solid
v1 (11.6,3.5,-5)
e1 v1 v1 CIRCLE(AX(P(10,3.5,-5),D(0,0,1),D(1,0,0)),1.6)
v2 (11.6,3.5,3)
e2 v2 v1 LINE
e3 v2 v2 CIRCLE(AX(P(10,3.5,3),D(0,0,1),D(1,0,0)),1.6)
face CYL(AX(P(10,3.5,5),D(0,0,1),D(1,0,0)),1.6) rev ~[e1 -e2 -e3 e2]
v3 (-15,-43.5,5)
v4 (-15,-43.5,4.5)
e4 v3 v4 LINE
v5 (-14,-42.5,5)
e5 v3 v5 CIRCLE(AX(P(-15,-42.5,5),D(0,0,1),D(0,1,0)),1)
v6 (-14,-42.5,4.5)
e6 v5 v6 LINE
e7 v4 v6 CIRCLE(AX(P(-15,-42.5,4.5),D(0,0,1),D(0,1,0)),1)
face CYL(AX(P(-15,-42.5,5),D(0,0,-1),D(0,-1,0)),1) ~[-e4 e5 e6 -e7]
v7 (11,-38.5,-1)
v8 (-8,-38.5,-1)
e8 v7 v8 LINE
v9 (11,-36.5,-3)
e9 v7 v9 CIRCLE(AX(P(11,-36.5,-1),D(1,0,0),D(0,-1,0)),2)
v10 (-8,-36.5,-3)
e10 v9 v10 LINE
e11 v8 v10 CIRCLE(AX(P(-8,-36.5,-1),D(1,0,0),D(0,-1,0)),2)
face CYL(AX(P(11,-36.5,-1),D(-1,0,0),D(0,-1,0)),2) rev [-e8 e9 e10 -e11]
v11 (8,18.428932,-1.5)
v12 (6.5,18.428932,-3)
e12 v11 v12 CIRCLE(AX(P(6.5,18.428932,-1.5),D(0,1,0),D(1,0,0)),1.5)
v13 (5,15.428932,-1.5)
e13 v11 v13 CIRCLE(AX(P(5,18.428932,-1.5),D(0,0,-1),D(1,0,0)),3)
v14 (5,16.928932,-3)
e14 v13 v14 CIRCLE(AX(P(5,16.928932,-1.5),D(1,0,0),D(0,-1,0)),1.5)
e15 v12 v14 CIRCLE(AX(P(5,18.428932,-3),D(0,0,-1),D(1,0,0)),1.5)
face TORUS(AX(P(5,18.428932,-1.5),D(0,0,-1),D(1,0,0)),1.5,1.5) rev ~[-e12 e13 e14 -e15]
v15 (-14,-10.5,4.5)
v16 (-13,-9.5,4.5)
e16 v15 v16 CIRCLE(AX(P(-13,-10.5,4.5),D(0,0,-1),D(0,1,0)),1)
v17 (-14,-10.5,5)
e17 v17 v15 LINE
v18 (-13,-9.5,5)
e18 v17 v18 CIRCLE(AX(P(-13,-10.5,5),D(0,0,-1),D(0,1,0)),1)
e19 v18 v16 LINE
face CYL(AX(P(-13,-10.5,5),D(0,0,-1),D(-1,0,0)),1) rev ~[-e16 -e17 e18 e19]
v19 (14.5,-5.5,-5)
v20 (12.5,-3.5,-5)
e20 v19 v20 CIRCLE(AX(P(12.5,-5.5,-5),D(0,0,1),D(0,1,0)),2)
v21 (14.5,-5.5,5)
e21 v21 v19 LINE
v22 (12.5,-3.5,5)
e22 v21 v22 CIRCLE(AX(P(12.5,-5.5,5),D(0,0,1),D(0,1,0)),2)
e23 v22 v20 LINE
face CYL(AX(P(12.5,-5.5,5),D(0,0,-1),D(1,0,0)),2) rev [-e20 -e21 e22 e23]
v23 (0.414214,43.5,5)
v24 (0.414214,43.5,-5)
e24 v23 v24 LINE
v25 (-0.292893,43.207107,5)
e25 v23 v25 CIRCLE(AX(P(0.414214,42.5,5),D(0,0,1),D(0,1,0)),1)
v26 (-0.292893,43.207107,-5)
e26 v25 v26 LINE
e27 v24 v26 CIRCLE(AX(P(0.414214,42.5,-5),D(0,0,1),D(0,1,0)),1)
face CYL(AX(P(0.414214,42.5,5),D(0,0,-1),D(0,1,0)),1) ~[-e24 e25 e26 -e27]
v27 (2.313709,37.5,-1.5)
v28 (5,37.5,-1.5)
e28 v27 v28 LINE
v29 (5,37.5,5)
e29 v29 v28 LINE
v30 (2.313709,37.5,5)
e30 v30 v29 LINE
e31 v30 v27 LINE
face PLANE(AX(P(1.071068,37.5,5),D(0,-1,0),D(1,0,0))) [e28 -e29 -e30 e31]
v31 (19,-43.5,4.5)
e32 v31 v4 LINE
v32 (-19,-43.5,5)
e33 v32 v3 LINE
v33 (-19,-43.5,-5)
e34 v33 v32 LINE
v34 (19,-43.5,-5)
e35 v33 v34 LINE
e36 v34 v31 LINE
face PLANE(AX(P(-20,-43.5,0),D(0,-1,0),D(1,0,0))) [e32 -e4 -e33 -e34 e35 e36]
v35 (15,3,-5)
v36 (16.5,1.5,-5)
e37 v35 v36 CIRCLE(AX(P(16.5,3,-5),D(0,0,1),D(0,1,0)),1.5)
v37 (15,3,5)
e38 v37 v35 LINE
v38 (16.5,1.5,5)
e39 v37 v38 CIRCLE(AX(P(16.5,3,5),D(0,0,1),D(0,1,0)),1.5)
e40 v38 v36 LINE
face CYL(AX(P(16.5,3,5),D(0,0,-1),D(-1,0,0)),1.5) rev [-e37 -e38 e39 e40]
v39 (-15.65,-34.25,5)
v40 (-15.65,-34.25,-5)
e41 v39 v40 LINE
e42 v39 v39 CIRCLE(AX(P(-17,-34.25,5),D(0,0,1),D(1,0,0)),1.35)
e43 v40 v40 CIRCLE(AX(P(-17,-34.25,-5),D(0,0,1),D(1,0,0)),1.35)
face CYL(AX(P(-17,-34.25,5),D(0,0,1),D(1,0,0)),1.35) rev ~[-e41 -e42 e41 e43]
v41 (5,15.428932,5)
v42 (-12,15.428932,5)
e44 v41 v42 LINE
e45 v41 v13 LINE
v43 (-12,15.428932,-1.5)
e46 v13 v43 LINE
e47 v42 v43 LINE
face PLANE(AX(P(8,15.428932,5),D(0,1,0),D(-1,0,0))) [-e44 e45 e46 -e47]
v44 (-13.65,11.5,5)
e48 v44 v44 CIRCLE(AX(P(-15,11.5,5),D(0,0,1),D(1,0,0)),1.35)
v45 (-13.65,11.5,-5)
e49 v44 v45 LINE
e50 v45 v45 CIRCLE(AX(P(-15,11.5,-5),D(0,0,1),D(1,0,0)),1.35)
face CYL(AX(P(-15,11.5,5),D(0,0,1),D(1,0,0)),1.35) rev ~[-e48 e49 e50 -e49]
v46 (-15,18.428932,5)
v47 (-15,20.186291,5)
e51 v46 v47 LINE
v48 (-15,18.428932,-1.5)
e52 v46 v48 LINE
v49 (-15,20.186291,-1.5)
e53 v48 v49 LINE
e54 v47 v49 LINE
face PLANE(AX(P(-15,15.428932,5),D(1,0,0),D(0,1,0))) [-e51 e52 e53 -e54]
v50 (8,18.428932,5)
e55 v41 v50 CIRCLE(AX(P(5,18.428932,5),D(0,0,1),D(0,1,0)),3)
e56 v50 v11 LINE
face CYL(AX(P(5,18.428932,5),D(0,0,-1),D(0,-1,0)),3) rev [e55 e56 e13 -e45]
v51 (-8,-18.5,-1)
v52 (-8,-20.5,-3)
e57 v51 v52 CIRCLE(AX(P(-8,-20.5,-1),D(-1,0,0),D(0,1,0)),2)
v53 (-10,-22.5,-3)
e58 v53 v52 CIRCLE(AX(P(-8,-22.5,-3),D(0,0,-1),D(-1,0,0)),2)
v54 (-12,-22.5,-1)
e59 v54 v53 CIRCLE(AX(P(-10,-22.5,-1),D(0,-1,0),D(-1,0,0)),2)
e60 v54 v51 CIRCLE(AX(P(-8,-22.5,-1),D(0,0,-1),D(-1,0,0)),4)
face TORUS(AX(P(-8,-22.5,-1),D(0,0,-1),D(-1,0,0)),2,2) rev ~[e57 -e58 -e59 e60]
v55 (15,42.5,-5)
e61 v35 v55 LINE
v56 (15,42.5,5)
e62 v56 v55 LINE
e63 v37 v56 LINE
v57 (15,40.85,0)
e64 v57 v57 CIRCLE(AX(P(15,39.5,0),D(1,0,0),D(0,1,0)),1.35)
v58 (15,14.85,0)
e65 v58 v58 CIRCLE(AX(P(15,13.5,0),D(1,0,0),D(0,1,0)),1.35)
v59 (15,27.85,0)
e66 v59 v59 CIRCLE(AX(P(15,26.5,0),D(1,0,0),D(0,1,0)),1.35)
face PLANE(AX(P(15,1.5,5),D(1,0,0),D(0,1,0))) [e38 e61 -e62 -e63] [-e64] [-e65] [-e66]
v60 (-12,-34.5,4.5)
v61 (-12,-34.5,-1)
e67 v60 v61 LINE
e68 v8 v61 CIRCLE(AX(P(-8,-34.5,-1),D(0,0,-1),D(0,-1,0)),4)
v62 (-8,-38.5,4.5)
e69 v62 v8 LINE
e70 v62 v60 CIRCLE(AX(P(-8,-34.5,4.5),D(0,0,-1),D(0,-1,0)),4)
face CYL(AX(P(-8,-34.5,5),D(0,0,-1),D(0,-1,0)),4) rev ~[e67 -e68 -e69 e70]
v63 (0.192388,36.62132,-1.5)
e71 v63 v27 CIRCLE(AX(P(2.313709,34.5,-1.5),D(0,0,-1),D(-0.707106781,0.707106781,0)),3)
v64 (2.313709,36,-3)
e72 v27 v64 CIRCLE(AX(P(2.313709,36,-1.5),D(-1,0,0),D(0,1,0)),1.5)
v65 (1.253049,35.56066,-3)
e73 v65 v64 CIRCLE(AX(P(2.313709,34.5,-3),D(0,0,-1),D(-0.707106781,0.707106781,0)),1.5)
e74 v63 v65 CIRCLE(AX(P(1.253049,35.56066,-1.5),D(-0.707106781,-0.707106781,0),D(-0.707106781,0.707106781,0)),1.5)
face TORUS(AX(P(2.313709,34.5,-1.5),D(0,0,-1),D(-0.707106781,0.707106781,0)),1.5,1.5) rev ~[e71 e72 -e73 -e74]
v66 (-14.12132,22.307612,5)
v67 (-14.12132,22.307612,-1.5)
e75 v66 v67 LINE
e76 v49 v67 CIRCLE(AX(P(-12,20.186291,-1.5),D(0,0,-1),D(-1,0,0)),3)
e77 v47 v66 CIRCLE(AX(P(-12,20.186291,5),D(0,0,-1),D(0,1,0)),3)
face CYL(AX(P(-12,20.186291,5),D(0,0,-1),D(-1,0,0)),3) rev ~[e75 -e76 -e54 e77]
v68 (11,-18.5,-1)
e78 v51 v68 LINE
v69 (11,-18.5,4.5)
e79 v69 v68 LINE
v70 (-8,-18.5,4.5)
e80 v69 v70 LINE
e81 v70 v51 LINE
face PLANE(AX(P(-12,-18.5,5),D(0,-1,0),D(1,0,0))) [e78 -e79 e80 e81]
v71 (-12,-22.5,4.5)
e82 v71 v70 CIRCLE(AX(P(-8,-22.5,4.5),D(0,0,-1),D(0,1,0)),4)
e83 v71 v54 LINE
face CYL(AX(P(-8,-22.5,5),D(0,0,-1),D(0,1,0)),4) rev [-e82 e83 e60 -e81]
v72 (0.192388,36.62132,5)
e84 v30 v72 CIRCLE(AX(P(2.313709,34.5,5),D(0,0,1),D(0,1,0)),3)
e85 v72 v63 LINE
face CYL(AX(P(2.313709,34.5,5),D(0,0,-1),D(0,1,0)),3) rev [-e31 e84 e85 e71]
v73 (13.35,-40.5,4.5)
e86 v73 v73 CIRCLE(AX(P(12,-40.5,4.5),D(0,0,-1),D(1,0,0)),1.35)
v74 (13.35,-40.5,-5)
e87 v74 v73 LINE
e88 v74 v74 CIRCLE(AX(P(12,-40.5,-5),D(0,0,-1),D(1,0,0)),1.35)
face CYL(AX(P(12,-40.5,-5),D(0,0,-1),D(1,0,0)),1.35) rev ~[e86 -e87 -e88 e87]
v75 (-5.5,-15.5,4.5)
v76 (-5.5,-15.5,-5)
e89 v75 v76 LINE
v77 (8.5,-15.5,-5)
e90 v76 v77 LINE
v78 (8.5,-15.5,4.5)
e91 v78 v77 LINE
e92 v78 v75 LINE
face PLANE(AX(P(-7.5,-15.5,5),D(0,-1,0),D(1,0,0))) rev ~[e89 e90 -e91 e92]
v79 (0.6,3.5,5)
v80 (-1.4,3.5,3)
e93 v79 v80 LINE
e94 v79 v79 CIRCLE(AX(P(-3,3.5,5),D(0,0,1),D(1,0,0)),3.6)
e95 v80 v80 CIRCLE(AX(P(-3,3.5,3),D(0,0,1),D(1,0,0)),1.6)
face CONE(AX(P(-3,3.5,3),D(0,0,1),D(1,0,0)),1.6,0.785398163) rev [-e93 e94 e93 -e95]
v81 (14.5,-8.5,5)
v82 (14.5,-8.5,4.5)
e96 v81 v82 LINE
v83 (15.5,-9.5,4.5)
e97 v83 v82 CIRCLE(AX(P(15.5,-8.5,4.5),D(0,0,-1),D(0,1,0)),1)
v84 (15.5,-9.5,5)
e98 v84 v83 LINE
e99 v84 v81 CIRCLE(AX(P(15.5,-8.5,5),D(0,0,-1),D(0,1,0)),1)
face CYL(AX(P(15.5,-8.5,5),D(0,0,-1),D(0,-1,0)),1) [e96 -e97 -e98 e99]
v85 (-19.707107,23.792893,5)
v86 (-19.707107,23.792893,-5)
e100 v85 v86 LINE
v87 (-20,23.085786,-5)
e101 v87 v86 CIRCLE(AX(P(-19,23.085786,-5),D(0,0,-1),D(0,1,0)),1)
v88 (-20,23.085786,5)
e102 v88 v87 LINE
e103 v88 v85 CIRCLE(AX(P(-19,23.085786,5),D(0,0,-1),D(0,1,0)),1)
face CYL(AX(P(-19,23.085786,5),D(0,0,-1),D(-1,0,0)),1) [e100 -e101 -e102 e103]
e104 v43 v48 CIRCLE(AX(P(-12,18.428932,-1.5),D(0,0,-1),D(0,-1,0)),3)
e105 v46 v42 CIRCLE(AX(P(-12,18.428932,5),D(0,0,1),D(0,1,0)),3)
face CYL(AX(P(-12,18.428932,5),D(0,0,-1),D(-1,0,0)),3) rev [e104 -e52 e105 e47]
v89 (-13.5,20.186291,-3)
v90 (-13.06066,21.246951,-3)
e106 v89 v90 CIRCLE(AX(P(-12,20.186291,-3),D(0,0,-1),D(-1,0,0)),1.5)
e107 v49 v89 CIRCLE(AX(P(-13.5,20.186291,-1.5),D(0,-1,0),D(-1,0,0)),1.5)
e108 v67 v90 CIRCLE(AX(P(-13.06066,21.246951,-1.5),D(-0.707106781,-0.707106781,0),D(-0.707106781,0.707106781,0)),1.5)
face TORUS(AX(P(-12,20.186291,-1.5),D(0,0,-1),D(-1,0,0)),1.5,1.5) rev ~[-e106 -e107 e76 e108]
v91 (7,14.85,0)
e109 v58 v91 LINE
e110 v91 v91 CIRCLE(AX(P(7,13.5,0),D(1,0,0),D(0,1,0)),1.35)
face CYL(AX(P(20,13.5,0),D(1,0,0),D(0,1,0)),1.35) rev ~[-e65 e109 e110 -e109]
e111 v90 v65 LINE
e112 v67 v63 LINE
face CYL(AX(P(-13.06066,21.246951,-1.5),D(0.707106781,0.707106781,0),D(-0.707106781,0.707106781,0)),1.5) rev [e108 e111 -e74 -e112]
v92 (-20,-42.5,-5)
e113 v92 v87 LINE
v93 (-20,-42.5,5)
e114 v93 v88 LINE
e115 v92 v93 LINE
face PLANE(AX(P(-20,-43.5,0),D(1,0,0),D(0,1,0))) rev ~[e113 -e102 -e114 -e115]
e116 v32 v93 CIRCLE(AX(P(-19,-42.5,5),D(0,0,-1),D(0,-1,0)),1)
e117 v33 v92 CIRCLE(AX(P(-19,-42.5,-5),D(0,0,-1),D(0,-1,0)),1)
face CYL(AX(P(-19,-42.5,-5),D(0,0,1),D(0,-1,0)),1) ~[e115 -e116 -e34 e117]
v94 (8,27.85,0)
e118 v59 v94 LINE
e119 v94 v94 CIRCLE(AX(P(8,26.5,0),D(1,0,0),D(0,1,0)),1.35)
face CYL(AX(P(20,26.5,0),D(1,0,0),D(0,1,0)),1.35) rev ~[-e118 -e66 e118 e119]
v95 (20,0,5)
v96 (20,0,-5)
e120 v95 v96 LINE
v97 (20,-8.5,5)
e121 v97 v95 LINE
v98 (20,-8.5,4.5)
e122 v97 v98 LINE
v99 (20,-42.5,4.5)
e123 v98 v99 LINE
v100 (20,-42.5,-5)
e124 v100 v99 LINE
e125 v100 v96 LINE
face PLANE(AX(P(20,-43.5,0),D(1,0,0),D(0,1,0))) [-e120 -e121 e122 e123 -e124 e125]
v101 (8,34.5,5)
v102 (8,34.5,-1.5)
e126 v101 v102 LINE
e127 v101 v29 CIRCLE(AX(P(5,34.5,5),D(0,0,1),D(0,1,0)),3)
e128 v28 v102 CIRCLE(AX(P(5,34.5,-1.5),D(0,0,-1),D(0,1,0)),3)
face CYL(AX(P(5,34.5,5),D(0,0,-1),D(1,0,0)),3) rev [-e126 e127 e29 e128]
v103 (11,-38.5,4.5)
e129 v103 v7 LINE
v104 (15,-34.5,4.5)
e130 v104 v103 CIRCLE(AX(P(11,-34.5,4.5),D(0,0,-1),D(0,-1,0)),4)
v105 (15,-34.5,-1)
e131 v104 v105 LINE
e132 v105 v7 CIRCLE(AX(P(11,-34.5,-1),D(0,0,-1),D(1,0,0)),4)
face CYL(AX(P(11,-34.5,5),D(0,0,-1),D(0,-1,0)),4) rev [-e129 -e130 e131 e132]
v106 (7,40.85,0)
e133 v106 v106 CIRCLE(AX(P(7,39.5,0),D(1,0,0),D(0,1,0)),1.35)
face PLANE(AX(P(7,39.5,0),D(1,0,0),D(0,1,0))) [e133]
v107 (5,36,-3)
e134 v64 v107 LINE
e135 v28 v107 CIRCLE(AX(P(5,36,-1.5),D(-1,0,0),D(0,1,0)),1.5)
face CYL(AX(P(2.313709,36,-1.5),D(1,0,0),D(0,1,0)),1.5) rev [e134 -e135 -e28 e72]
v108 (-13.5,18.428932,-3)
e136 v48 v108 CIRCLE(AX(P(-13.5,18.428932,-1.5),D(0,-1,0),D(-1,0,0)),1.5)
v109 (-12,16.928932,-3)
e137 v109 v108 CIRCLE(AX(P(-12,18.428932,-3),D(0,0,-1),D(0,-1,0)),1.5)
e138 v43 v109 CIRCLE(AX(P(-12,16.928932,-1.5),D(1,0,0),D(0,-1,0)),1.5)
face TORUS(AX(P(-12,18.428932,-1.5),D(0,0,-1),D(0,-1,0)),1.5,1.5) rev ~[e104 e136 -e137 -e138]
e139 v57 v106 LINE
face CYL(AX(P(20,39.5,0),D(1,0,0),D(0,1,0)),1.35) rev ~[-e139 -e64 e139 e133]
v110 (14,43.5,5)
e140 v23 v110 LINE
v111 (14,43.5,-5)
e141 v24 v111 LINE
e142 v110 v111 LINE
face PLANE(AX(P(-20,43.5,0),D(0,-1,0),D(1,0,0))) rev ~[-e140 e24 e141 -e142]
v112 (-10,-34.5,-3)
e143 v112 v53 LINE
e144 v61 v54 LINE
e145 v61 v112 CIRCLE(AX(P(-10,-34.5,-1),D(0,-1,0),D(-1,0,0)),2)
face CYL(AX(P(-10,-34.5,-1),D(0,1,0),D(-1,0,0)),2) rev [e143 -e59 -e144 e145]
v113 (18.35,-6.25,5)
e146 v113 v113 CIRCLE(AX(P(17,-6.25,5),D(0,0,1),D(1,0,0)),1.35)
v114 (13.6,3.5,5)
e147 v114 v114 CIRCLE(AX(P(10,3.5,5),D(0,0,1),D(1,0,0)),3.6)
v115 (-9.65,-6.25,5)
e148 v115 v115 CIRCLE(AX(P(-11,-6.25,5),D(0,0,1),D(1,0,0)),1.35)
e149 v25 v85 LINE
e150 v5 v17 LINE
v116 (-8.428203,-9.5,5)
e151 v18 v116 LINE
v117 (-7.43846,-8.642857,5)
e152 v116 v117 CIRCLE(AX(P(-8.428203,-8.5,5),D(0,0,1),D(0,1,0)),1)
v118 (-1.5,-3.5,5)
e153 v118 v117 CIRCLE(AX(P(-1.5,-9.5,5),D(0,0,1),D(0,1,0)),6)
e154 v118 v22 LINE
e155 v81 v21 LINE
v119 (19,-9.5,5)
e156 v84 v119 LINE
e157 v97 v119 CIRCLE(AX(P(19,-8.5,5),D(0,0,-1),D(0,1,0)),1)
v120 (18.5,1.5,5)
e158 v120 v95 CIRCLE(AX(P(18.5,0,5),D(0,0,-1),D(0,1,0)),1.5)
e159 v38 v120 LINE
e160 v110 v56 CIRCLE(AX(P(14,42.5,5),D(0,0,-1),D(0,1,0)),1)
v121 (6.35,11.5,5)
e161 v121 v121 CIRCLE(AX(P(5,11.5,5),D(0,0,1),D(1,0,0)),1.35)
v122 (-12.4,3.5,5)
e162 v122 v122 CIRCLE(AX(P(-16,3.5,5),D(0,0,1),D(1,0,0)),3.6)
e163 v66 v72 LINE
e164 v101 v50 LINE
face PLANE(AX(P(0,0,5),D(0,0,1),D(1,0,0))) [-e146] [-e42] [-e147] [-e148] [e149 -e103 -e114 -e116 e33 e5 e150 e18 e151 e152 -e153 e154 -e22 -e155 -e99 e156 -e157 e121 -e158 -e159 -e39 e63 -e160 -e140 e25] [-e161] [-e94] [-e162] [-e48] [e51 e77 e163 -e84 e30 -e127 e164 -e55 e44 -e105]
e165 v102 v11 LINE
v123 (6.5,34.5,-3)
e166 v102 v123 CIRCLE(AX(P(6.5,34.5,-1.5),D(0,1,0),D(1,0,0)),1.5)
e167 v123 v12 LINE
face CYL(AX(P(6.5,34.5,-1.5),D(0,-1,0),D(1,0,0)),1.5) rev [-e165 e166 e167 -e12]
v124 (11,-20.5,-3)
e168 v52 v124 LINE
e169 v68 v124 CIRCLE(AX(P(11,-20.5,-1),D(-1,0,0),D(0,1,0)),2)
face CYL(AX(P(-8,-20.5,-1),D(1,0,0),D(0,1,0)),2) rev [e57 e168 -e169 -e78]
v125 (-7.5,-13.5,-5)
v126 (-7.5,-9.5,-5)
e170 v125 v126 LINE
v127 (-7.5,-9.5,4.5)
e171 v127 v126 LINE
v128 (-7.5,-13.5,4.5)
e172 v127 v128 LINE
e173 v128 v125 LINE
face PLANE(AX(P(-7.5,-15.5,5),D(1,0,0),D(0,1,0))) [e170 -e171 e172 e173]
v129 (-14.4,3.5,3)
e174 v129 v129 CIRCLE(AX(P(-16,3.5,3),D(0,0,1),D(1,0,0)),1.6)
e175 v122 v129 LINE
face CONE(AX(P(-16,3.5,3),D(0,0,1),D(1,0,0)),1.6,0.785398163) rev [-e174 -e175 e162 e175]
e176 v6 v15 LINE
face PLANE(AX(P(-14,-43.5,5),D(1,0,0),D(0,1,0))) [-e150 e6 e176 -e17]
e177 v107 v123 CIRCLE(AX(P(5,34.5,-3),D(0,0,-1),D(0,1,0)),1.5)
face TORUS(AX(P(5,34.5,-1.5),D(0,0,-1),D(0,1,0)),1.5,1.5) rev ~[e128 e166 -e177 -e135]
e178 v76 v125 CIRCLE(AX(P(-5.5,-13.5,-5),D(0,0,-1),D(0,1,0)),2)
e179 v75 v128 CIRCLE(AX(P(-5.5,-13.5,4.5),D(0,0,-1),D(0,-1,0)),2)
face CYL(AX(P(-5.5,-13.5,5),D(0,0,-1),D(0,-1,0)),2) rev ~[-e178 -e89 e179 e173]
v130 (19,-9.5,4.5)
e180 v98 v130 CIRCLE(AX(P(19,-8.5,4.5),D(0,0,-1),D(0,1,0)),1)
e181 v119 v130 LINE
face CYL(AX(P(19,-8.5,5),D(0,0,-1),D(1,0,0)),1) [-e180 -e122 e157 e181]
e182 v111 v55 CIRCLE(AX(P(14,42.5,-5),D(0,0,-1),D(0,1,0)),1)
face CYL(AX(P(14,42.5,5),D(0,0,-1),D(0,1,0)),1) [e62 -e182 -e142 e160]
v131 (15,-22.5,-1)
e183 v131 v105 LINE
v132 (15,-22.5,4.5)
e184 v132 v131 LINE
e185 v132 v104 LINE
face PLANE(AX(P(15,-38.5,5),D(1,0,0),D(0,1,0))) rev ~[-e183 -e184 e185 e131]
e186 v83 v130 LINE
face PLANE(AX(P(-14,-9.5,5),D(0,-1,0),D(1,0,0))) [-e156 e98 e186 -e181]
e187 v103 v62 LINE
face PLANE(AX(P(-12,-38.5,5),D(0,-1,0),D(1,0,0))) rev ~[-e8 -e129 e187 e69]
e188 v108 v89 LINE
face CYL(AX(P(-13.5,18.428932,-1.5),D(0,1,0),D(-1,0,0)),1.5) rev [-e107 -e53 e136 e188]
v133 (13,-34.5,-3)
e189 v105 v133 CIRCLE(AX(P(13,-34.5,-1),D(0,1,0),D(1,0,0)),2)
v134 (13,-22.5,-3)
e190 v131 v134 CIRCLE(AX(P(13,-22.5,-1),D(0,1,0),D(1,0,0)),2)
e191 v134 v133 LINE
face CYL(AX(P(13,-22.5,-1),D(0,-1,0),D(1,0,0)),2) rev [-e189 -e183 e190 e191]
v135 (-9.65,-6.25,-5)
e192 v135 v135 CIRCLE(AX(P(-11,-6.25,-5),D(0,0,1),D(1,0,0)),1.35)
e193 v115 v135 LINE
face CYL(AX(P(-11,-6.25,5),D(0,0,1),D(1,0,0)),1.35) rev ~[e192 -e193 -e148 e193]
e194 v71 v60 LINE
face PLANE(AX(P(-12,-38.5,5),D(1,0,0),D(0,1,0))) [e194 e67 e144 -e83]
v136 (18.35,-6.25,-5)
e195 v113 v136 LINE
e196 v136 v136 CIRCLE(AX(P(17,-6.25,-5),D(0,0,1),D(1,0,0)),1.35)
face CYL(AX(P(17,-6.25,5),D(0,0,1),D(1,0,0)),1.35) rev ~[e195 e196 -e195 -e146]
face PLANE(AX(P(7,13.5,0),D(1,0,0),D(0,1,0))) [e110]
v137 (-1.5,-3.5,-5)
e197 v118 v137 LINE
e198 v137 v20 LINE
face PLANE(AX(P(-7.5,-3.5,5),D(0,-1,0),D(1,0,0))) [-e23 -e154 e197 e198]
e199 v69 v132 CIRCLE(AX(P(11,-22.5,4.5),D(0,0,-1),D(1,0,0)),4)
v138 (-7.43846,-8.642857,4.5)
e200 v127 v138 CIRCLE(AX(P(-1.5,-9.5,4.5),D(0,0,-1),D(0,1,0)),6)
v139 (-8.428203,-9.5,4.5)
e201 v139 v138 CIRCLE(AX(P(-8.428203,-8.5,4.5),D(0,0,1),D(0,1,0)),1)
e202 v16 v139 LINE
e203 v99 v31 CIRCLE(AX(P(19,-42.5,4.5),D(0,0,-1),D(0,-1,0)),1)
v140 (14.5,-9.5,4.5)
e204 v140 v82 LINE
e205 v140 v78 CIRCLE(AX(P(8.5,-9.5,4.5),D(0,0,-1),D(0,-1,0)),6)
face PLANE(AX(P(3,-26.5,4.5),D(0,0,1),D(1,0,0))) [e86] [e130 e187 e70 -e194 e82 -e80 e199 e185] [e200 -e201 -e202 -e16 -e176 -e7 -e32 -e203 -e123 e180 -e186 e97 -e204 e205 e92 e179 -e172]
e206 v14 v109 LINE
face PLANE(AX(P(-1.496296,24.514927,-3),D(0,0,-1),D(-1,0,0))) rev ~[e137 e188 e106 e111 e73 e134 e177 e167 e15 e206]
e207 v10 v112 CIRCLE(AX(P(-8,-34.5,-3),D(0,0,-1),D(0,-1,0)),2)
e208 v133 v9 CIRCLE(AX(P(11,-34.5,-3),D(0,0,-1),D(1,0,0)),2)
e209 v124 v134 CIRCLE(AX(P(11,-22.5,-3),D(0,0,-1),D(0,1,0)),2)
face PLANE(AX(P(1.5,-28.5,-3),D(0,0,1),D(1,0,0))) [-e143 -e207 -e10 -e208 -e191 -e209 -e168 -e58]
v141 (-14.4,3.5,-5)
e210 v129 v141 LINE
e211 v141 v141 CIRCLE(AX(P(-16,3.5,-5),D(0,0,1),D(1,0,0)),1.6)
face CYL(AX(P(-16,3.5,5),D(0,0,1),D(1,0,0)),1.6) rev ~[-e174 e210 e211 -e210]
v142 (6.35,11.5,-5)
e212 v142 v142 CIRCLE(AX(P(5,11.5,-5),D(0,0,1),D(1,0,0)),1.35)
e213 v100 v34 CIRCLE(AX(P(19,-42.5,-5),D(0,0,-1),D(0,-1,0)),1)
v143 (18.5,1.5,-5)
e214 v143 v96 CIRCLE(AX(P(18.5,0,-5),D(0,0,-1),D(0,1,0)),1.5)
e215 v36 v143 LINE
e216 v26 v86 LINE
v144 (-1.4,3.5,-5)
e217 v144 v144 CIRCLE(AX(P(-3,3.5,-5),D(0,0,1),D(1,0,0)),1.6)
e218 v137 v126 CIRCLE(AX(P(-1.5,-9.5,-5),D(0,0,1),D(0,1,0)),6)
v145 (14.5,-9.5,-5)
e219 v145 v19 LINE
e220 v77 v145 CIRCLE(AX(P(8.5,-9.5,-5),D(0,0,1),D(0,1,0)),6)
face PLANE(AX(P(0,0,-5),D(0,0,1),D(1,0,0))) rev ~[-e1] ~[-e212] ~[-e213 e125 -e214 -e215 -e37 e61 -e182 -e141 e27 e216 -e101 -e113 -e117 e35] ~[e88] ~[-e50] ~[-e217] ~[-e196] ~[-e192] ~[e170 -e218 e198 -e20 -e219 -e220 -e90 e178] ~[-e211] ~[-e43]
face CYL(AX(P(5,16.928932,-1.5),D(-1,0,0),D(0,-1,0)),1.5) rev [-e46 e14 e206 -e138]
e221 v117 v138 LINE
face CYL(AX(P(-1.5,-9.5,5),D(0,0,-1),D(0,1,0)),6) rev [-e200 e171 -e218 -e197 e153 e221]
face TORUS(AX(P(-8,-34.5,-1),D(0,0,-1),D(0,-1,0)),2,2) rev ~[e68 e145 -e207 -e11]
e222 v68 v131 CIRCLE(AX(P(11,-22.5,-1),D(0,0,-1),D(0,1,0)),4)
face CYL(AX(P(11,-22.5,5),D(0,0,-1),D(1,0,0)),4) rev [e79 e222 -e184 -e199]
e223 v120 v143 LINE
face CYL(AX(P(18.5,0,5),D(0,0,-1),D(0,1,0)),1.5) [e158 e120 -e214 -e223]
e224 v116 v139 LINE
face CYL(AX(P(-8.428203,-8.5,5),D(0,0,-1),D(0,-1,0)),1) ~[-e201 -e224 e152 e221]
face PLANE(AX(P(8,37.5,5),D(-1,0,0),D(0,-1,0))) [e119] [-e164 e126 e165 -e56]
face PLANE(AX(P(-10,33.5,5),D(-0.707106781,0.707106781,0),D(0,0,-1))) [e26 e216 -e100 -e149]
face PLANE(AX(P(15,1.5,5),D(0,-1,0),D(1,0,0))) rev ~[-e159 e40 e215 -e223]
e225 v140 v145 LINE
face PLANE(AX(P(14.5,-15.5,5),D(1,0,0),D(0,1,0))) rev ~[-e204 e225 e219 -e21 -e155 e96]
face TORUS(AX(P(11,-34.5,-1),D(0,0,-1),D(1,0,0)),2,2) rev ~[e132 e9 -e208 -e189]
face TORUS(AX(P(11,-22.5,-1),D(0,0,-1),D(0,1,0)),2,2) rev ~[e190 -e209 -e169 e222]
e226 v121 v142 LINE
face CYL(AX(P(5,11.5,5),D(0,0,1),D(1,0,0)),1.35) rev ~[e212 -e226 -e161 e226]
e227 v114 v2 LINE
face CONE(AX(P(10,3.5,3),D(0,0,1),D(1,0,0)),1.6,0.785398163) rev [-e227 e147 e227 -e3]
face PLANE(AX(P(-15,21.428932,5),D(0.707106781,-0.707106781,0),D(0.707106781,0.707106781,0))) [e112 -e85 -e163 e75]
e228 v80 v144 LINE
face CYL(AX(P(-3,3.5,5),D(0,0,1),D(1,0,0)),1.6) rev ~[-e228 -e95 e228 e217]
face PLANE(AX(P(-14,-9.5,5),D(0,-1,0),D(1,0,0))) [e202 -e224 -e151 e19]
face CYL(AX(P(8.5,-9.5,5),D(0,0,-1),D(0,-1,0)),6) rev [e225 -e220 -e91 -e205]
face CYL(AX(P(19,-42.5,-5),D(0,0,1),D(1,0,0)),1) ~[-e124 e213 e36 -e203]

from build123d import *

# Parameters (mm, degrees)
SKETCH_W         = 40
SKETCH_H         = 87
PAD_DEPTH        = 5
SKETCH001_R      = 1.35
POCKET_DEPTH     = 10.001
SKETCH009_R      = 1.6
POCKET007_DEPTH  = 10.001
SKETCH010_W      = 5
SKETCH010_H      = 42
POCKET008_DEPTH  = 10.001
CHAMFER_SIZE     = 2
FILLET_R         = 1.5
CHAMFER001_SIZE2 = 20
CHAMFER001_SIZE  = 20
SKETCH011_W      = 22
SKETCH011_H      = 12
POCKET009_DEPTH  = 12
FILLET001_R      = 6
FILLET009_R      = 2
SKETCH012_W      = 27
SKETCH012_H      = 20
POCKET010_DEPTH  = 8
FILLET002_R      = 4
FILLET003_R      = 2
POCKET011_DEPTH  = 8
FILLET004_R      = 3
FILLET005_R      = 1.5
SKETCH014_R      = 1.35
POCKET012_DEPTH  = 10.001
SKETCH015_R      = 1.35
POCKET013_DEPTH  = 10.001
SKETCH016_W      = 34
SKETCH016_H      = 34
POCKET014_DEPTH  = 0.5
SKETCH017_R      = 1.35
POCKET015_DEPTH  = 13
FILLET010_R      = 1
FILLET011_R      = 1


with BuildPart() as part:
    # Sketch → Pad (new body, symmetric)
    with BuildSketch(Plane.XY):
        Rectangle(SKETCH_W, SKETCH_H)
    extrude(amount=PAD_DEPTH, both=True)

    # Sketch001 (on Face6 of Pad) → Pocket (cut, through all)
    with BuildSketch(Plane.XY.offset(5)):
        with Locations((17, -6.25)):
            Circle(SKETCH001_R)
        with Locations((-11, -6.25)):
            Circle(SKETCH001_R)
        with Locations((-17, -34.25)):
            Circle(SKETCH001_R)
    extrude(amount=-POCKET_DEPTH, mode=Mode.SUBTRACT)

    # Sketch009 (on Face5 of Pocket) → Pocket007 (cut, through all)
    with BuildSketch(Plane.XY.offset(5)):
        with Locations((-16, 3.5)):
            Circle(SKETCH009_R)
        with Locations((-3, 3.5)):
            Circle(SKETCH009_R)
        with Locations((10, 3.5)):
            Circle(SKETCH009_R)
    extrude(amount=-POCKET007_DEPTH, mode=Mode.SUBTRACT)

    # Sketch010 (on Face5 of Pocket007) → Pocket008 (cut, through all)
    with BuildSketch(Plane.XY.offset(5)):
        with Locations((17.5, 22.5)):
            Rectangle(SKETCH010_W, SKETCH010_H)
    extrude(amount=-POCKET008_DEPTH, mode=Mode.SUBTRACT)

    # Chamfer
    chamfer_edges = [part.edges().sort_by_distance(p)[0] for p in [
        (8.4, 3.5, 5),
        (-4.6, 3.5, 5),
        (-17.6, 3.5, 5),
    ]]
    chamfer(chamfer_edges, length=CHAMFER_SIZE)

    # Fillet
    fillet_edges = [part.edges().sort_by_distance(p)[0] for p in [
        (20, 1.5, 0),
        (15, 1.5, 0),
    ]]
    fillet(fillet_edges, radius=FILLET_R)

    # Chamfer001
    chamfer001_edges = [part.edges().sort_by_distance(p)[0] for p in [
        (-20, 43.5, 0),
    ]]
    chamfer001_side = part.faces().sort_by_distance((-2.5, 43.5, 0))[0]
    chamfer(chamfer001_edges, length=CHAMFER001_SIZE, length2=CHAMFER001_SIZE2, reference=chamfer001_side)

    # Sketch011 (on Face1 of Chamfer001) → Pocket009 (cut)
    with BuildSketch(Plane.XY.offset(5)):
        with Locations((3.5, -9.5)):
            Rectangle(SKETCH011_W, SKETCH011_H)
    extrude(amount=-POCKET009_DEPTH, mode=Mode.SUBTRACT)

    # Fillet001
    fillet001_edges = [part.edges().sort_by_distance(p)[0] for p in [
        (-7.5, -3.5, 0),
        (14.5, -15.5, 0),
    ]]
    fillet(fillet001_edges, radius=FILLET001_R)

    # Fillet009
    fillet009_edges = [part.edges().sort_by_distance(p)[0] for p in [
        (14.5, -3.5, 0),
        (-7.5, -15.5, 0),
    ]]
    fillet(fillet009_edges, radius=FILLET009_R)

    # Sketch012 (on Face1 of Fillet001) → Pocket010 (cut)
    with BuildSketch(Plane.XY.offset(5)):
        with Locations((1.5, -28.5)):
            Rectangle(SKETCH012_W, SKETCH012_H)
    extrude(amount=-POCKET010_DEPTH, mode=Mode.SUBTRACT)

    # Fillet002
    fillet002_edges = [part.edges().sort_by_distance(p)[0] for p in [
        (-12, -18.5, 1),
        (-12, -38.5, 1),
        (15, -38.5, 1),
        (15, -18.5, 1),
    ]]
    fillet(fillet002_edges, radius=FILLET002_R)

    # Fillet003
    fillet003_edges = [part.edges().sort_by_distance(p)[0] for p in [
        (-12, -28.5, -3),
    ]]
    fillet(fillet003_edges, radius=FILLET003_R)

    # Sketch013 (on Face4 of Fillet003) → Pocket011 (cut)
    with BuildSketch(Plane.XY.offset(5)):
        Polygon((-15, 21.428932), (1.071068, 37.5), (8, 37.5), (8, 15.428932), (-15, 15.428932), align=None)
    extrude(amount=-POCKET011_DEPTH, mode=Mode.SUBTRACT)

    # Fillet004
    fillet004_edges = [part.edges().sort_by_distance(p)[0] for p in [
        (-15, 15.428932, 1),
        (-15, 21.428932, 1),
        (8, 15.428932, 1),
        (8, 37.5, 1),
        (1.071068, 37.5, 1),
    ]]
    fillet(fillet004_edges, radius=FILLET004_R)

    # Fillet005
    fillet005_edges = [part.edges().sort_by_distance(p)[0] for p in [
        (-3.5, 15.428932, -3),
    ]]
    fillet(fillet005_edges, radius=FILLET005_R)

    # Sketch014 (on Face4 of Fillet005) → Pocket012 (cut, through all)
    with BuildSketch(Plane.XY.offset(5)):
        with Locations((-15, 11.5)):
            Circle(SKETCH014_R)
        with Locations((5, 11.5)):
            Circle(SKETCH014_R)
    extrude(amount=-POCKET012_DEPTH, mode=Mode.SUBTRACT)

    # Sketch015 (on Face56 of Pocket012) → Pocket013 (cut, through all)
    with BuildSketch(Plane(origin=(0, 0, -5), x_dir=(1, 0, 0), z_dir=(0, 0, -1))):
        with Locations((12, 40.5)):
            Circle(SKETCH015_R)
    extrude(amount=-POCKET013_DEPTH, mode=Mode.SUBTRACT)

    # Sketch016 (on Face4 of Pocket013) → Pocket014 (cut)
    with BuildSketch(Plane.XY.offset(5)):
        with Locations((3, -26.5)):
            Rectangle(SKETCH016_W, SKETCH016_H)
    extrude(amount=-POCKET014_DEPTH, mode=Mode.SUBTRACT)

    # Sketch017 (on Face15 of Pocket014) → Pocket015 (cut)
    with BuildSketch(Plane.YZ.offset(20)):
        with Locations((13.5, 0)):
            Circle(SKETCH017_R)
        with Locations((26.5, 0)):
            Circle(SKETCH017_R)
        with Locations((39.5, 0)):
            Circle(SKETCH017_R)
    extrude(amount=-POCKET015_DEPTH, mode=Mode.SUBTRACT)

    # Fillet010
    fillet010_edges = [part.edges().sort_by_distance(p)[0] for p in [
        (-20, -43.5, 0),
        (-20, 23.5, 0),
        (0, 43.5, 0),
        (15, 43.5, 0),
        (20, -43.5, -0.25),
    ]]
    fillet(fillet010_edges, radius=FILLET010_R)

    # Fillet011
    fillet011_edges = [part.edges().sort_by_distance(p)[0] for p in [
        (20, -9.5, 4.75),
        (14.5, -9.5, 4.75),
        (-7.5, -9.5, 4.75),
        (-14, -9.5, 4.75),
        (-14, -43.5, 4.75),
    ]]
    fillet(fillet011_edges, radius=FILLET011_R)


solid = part.part
